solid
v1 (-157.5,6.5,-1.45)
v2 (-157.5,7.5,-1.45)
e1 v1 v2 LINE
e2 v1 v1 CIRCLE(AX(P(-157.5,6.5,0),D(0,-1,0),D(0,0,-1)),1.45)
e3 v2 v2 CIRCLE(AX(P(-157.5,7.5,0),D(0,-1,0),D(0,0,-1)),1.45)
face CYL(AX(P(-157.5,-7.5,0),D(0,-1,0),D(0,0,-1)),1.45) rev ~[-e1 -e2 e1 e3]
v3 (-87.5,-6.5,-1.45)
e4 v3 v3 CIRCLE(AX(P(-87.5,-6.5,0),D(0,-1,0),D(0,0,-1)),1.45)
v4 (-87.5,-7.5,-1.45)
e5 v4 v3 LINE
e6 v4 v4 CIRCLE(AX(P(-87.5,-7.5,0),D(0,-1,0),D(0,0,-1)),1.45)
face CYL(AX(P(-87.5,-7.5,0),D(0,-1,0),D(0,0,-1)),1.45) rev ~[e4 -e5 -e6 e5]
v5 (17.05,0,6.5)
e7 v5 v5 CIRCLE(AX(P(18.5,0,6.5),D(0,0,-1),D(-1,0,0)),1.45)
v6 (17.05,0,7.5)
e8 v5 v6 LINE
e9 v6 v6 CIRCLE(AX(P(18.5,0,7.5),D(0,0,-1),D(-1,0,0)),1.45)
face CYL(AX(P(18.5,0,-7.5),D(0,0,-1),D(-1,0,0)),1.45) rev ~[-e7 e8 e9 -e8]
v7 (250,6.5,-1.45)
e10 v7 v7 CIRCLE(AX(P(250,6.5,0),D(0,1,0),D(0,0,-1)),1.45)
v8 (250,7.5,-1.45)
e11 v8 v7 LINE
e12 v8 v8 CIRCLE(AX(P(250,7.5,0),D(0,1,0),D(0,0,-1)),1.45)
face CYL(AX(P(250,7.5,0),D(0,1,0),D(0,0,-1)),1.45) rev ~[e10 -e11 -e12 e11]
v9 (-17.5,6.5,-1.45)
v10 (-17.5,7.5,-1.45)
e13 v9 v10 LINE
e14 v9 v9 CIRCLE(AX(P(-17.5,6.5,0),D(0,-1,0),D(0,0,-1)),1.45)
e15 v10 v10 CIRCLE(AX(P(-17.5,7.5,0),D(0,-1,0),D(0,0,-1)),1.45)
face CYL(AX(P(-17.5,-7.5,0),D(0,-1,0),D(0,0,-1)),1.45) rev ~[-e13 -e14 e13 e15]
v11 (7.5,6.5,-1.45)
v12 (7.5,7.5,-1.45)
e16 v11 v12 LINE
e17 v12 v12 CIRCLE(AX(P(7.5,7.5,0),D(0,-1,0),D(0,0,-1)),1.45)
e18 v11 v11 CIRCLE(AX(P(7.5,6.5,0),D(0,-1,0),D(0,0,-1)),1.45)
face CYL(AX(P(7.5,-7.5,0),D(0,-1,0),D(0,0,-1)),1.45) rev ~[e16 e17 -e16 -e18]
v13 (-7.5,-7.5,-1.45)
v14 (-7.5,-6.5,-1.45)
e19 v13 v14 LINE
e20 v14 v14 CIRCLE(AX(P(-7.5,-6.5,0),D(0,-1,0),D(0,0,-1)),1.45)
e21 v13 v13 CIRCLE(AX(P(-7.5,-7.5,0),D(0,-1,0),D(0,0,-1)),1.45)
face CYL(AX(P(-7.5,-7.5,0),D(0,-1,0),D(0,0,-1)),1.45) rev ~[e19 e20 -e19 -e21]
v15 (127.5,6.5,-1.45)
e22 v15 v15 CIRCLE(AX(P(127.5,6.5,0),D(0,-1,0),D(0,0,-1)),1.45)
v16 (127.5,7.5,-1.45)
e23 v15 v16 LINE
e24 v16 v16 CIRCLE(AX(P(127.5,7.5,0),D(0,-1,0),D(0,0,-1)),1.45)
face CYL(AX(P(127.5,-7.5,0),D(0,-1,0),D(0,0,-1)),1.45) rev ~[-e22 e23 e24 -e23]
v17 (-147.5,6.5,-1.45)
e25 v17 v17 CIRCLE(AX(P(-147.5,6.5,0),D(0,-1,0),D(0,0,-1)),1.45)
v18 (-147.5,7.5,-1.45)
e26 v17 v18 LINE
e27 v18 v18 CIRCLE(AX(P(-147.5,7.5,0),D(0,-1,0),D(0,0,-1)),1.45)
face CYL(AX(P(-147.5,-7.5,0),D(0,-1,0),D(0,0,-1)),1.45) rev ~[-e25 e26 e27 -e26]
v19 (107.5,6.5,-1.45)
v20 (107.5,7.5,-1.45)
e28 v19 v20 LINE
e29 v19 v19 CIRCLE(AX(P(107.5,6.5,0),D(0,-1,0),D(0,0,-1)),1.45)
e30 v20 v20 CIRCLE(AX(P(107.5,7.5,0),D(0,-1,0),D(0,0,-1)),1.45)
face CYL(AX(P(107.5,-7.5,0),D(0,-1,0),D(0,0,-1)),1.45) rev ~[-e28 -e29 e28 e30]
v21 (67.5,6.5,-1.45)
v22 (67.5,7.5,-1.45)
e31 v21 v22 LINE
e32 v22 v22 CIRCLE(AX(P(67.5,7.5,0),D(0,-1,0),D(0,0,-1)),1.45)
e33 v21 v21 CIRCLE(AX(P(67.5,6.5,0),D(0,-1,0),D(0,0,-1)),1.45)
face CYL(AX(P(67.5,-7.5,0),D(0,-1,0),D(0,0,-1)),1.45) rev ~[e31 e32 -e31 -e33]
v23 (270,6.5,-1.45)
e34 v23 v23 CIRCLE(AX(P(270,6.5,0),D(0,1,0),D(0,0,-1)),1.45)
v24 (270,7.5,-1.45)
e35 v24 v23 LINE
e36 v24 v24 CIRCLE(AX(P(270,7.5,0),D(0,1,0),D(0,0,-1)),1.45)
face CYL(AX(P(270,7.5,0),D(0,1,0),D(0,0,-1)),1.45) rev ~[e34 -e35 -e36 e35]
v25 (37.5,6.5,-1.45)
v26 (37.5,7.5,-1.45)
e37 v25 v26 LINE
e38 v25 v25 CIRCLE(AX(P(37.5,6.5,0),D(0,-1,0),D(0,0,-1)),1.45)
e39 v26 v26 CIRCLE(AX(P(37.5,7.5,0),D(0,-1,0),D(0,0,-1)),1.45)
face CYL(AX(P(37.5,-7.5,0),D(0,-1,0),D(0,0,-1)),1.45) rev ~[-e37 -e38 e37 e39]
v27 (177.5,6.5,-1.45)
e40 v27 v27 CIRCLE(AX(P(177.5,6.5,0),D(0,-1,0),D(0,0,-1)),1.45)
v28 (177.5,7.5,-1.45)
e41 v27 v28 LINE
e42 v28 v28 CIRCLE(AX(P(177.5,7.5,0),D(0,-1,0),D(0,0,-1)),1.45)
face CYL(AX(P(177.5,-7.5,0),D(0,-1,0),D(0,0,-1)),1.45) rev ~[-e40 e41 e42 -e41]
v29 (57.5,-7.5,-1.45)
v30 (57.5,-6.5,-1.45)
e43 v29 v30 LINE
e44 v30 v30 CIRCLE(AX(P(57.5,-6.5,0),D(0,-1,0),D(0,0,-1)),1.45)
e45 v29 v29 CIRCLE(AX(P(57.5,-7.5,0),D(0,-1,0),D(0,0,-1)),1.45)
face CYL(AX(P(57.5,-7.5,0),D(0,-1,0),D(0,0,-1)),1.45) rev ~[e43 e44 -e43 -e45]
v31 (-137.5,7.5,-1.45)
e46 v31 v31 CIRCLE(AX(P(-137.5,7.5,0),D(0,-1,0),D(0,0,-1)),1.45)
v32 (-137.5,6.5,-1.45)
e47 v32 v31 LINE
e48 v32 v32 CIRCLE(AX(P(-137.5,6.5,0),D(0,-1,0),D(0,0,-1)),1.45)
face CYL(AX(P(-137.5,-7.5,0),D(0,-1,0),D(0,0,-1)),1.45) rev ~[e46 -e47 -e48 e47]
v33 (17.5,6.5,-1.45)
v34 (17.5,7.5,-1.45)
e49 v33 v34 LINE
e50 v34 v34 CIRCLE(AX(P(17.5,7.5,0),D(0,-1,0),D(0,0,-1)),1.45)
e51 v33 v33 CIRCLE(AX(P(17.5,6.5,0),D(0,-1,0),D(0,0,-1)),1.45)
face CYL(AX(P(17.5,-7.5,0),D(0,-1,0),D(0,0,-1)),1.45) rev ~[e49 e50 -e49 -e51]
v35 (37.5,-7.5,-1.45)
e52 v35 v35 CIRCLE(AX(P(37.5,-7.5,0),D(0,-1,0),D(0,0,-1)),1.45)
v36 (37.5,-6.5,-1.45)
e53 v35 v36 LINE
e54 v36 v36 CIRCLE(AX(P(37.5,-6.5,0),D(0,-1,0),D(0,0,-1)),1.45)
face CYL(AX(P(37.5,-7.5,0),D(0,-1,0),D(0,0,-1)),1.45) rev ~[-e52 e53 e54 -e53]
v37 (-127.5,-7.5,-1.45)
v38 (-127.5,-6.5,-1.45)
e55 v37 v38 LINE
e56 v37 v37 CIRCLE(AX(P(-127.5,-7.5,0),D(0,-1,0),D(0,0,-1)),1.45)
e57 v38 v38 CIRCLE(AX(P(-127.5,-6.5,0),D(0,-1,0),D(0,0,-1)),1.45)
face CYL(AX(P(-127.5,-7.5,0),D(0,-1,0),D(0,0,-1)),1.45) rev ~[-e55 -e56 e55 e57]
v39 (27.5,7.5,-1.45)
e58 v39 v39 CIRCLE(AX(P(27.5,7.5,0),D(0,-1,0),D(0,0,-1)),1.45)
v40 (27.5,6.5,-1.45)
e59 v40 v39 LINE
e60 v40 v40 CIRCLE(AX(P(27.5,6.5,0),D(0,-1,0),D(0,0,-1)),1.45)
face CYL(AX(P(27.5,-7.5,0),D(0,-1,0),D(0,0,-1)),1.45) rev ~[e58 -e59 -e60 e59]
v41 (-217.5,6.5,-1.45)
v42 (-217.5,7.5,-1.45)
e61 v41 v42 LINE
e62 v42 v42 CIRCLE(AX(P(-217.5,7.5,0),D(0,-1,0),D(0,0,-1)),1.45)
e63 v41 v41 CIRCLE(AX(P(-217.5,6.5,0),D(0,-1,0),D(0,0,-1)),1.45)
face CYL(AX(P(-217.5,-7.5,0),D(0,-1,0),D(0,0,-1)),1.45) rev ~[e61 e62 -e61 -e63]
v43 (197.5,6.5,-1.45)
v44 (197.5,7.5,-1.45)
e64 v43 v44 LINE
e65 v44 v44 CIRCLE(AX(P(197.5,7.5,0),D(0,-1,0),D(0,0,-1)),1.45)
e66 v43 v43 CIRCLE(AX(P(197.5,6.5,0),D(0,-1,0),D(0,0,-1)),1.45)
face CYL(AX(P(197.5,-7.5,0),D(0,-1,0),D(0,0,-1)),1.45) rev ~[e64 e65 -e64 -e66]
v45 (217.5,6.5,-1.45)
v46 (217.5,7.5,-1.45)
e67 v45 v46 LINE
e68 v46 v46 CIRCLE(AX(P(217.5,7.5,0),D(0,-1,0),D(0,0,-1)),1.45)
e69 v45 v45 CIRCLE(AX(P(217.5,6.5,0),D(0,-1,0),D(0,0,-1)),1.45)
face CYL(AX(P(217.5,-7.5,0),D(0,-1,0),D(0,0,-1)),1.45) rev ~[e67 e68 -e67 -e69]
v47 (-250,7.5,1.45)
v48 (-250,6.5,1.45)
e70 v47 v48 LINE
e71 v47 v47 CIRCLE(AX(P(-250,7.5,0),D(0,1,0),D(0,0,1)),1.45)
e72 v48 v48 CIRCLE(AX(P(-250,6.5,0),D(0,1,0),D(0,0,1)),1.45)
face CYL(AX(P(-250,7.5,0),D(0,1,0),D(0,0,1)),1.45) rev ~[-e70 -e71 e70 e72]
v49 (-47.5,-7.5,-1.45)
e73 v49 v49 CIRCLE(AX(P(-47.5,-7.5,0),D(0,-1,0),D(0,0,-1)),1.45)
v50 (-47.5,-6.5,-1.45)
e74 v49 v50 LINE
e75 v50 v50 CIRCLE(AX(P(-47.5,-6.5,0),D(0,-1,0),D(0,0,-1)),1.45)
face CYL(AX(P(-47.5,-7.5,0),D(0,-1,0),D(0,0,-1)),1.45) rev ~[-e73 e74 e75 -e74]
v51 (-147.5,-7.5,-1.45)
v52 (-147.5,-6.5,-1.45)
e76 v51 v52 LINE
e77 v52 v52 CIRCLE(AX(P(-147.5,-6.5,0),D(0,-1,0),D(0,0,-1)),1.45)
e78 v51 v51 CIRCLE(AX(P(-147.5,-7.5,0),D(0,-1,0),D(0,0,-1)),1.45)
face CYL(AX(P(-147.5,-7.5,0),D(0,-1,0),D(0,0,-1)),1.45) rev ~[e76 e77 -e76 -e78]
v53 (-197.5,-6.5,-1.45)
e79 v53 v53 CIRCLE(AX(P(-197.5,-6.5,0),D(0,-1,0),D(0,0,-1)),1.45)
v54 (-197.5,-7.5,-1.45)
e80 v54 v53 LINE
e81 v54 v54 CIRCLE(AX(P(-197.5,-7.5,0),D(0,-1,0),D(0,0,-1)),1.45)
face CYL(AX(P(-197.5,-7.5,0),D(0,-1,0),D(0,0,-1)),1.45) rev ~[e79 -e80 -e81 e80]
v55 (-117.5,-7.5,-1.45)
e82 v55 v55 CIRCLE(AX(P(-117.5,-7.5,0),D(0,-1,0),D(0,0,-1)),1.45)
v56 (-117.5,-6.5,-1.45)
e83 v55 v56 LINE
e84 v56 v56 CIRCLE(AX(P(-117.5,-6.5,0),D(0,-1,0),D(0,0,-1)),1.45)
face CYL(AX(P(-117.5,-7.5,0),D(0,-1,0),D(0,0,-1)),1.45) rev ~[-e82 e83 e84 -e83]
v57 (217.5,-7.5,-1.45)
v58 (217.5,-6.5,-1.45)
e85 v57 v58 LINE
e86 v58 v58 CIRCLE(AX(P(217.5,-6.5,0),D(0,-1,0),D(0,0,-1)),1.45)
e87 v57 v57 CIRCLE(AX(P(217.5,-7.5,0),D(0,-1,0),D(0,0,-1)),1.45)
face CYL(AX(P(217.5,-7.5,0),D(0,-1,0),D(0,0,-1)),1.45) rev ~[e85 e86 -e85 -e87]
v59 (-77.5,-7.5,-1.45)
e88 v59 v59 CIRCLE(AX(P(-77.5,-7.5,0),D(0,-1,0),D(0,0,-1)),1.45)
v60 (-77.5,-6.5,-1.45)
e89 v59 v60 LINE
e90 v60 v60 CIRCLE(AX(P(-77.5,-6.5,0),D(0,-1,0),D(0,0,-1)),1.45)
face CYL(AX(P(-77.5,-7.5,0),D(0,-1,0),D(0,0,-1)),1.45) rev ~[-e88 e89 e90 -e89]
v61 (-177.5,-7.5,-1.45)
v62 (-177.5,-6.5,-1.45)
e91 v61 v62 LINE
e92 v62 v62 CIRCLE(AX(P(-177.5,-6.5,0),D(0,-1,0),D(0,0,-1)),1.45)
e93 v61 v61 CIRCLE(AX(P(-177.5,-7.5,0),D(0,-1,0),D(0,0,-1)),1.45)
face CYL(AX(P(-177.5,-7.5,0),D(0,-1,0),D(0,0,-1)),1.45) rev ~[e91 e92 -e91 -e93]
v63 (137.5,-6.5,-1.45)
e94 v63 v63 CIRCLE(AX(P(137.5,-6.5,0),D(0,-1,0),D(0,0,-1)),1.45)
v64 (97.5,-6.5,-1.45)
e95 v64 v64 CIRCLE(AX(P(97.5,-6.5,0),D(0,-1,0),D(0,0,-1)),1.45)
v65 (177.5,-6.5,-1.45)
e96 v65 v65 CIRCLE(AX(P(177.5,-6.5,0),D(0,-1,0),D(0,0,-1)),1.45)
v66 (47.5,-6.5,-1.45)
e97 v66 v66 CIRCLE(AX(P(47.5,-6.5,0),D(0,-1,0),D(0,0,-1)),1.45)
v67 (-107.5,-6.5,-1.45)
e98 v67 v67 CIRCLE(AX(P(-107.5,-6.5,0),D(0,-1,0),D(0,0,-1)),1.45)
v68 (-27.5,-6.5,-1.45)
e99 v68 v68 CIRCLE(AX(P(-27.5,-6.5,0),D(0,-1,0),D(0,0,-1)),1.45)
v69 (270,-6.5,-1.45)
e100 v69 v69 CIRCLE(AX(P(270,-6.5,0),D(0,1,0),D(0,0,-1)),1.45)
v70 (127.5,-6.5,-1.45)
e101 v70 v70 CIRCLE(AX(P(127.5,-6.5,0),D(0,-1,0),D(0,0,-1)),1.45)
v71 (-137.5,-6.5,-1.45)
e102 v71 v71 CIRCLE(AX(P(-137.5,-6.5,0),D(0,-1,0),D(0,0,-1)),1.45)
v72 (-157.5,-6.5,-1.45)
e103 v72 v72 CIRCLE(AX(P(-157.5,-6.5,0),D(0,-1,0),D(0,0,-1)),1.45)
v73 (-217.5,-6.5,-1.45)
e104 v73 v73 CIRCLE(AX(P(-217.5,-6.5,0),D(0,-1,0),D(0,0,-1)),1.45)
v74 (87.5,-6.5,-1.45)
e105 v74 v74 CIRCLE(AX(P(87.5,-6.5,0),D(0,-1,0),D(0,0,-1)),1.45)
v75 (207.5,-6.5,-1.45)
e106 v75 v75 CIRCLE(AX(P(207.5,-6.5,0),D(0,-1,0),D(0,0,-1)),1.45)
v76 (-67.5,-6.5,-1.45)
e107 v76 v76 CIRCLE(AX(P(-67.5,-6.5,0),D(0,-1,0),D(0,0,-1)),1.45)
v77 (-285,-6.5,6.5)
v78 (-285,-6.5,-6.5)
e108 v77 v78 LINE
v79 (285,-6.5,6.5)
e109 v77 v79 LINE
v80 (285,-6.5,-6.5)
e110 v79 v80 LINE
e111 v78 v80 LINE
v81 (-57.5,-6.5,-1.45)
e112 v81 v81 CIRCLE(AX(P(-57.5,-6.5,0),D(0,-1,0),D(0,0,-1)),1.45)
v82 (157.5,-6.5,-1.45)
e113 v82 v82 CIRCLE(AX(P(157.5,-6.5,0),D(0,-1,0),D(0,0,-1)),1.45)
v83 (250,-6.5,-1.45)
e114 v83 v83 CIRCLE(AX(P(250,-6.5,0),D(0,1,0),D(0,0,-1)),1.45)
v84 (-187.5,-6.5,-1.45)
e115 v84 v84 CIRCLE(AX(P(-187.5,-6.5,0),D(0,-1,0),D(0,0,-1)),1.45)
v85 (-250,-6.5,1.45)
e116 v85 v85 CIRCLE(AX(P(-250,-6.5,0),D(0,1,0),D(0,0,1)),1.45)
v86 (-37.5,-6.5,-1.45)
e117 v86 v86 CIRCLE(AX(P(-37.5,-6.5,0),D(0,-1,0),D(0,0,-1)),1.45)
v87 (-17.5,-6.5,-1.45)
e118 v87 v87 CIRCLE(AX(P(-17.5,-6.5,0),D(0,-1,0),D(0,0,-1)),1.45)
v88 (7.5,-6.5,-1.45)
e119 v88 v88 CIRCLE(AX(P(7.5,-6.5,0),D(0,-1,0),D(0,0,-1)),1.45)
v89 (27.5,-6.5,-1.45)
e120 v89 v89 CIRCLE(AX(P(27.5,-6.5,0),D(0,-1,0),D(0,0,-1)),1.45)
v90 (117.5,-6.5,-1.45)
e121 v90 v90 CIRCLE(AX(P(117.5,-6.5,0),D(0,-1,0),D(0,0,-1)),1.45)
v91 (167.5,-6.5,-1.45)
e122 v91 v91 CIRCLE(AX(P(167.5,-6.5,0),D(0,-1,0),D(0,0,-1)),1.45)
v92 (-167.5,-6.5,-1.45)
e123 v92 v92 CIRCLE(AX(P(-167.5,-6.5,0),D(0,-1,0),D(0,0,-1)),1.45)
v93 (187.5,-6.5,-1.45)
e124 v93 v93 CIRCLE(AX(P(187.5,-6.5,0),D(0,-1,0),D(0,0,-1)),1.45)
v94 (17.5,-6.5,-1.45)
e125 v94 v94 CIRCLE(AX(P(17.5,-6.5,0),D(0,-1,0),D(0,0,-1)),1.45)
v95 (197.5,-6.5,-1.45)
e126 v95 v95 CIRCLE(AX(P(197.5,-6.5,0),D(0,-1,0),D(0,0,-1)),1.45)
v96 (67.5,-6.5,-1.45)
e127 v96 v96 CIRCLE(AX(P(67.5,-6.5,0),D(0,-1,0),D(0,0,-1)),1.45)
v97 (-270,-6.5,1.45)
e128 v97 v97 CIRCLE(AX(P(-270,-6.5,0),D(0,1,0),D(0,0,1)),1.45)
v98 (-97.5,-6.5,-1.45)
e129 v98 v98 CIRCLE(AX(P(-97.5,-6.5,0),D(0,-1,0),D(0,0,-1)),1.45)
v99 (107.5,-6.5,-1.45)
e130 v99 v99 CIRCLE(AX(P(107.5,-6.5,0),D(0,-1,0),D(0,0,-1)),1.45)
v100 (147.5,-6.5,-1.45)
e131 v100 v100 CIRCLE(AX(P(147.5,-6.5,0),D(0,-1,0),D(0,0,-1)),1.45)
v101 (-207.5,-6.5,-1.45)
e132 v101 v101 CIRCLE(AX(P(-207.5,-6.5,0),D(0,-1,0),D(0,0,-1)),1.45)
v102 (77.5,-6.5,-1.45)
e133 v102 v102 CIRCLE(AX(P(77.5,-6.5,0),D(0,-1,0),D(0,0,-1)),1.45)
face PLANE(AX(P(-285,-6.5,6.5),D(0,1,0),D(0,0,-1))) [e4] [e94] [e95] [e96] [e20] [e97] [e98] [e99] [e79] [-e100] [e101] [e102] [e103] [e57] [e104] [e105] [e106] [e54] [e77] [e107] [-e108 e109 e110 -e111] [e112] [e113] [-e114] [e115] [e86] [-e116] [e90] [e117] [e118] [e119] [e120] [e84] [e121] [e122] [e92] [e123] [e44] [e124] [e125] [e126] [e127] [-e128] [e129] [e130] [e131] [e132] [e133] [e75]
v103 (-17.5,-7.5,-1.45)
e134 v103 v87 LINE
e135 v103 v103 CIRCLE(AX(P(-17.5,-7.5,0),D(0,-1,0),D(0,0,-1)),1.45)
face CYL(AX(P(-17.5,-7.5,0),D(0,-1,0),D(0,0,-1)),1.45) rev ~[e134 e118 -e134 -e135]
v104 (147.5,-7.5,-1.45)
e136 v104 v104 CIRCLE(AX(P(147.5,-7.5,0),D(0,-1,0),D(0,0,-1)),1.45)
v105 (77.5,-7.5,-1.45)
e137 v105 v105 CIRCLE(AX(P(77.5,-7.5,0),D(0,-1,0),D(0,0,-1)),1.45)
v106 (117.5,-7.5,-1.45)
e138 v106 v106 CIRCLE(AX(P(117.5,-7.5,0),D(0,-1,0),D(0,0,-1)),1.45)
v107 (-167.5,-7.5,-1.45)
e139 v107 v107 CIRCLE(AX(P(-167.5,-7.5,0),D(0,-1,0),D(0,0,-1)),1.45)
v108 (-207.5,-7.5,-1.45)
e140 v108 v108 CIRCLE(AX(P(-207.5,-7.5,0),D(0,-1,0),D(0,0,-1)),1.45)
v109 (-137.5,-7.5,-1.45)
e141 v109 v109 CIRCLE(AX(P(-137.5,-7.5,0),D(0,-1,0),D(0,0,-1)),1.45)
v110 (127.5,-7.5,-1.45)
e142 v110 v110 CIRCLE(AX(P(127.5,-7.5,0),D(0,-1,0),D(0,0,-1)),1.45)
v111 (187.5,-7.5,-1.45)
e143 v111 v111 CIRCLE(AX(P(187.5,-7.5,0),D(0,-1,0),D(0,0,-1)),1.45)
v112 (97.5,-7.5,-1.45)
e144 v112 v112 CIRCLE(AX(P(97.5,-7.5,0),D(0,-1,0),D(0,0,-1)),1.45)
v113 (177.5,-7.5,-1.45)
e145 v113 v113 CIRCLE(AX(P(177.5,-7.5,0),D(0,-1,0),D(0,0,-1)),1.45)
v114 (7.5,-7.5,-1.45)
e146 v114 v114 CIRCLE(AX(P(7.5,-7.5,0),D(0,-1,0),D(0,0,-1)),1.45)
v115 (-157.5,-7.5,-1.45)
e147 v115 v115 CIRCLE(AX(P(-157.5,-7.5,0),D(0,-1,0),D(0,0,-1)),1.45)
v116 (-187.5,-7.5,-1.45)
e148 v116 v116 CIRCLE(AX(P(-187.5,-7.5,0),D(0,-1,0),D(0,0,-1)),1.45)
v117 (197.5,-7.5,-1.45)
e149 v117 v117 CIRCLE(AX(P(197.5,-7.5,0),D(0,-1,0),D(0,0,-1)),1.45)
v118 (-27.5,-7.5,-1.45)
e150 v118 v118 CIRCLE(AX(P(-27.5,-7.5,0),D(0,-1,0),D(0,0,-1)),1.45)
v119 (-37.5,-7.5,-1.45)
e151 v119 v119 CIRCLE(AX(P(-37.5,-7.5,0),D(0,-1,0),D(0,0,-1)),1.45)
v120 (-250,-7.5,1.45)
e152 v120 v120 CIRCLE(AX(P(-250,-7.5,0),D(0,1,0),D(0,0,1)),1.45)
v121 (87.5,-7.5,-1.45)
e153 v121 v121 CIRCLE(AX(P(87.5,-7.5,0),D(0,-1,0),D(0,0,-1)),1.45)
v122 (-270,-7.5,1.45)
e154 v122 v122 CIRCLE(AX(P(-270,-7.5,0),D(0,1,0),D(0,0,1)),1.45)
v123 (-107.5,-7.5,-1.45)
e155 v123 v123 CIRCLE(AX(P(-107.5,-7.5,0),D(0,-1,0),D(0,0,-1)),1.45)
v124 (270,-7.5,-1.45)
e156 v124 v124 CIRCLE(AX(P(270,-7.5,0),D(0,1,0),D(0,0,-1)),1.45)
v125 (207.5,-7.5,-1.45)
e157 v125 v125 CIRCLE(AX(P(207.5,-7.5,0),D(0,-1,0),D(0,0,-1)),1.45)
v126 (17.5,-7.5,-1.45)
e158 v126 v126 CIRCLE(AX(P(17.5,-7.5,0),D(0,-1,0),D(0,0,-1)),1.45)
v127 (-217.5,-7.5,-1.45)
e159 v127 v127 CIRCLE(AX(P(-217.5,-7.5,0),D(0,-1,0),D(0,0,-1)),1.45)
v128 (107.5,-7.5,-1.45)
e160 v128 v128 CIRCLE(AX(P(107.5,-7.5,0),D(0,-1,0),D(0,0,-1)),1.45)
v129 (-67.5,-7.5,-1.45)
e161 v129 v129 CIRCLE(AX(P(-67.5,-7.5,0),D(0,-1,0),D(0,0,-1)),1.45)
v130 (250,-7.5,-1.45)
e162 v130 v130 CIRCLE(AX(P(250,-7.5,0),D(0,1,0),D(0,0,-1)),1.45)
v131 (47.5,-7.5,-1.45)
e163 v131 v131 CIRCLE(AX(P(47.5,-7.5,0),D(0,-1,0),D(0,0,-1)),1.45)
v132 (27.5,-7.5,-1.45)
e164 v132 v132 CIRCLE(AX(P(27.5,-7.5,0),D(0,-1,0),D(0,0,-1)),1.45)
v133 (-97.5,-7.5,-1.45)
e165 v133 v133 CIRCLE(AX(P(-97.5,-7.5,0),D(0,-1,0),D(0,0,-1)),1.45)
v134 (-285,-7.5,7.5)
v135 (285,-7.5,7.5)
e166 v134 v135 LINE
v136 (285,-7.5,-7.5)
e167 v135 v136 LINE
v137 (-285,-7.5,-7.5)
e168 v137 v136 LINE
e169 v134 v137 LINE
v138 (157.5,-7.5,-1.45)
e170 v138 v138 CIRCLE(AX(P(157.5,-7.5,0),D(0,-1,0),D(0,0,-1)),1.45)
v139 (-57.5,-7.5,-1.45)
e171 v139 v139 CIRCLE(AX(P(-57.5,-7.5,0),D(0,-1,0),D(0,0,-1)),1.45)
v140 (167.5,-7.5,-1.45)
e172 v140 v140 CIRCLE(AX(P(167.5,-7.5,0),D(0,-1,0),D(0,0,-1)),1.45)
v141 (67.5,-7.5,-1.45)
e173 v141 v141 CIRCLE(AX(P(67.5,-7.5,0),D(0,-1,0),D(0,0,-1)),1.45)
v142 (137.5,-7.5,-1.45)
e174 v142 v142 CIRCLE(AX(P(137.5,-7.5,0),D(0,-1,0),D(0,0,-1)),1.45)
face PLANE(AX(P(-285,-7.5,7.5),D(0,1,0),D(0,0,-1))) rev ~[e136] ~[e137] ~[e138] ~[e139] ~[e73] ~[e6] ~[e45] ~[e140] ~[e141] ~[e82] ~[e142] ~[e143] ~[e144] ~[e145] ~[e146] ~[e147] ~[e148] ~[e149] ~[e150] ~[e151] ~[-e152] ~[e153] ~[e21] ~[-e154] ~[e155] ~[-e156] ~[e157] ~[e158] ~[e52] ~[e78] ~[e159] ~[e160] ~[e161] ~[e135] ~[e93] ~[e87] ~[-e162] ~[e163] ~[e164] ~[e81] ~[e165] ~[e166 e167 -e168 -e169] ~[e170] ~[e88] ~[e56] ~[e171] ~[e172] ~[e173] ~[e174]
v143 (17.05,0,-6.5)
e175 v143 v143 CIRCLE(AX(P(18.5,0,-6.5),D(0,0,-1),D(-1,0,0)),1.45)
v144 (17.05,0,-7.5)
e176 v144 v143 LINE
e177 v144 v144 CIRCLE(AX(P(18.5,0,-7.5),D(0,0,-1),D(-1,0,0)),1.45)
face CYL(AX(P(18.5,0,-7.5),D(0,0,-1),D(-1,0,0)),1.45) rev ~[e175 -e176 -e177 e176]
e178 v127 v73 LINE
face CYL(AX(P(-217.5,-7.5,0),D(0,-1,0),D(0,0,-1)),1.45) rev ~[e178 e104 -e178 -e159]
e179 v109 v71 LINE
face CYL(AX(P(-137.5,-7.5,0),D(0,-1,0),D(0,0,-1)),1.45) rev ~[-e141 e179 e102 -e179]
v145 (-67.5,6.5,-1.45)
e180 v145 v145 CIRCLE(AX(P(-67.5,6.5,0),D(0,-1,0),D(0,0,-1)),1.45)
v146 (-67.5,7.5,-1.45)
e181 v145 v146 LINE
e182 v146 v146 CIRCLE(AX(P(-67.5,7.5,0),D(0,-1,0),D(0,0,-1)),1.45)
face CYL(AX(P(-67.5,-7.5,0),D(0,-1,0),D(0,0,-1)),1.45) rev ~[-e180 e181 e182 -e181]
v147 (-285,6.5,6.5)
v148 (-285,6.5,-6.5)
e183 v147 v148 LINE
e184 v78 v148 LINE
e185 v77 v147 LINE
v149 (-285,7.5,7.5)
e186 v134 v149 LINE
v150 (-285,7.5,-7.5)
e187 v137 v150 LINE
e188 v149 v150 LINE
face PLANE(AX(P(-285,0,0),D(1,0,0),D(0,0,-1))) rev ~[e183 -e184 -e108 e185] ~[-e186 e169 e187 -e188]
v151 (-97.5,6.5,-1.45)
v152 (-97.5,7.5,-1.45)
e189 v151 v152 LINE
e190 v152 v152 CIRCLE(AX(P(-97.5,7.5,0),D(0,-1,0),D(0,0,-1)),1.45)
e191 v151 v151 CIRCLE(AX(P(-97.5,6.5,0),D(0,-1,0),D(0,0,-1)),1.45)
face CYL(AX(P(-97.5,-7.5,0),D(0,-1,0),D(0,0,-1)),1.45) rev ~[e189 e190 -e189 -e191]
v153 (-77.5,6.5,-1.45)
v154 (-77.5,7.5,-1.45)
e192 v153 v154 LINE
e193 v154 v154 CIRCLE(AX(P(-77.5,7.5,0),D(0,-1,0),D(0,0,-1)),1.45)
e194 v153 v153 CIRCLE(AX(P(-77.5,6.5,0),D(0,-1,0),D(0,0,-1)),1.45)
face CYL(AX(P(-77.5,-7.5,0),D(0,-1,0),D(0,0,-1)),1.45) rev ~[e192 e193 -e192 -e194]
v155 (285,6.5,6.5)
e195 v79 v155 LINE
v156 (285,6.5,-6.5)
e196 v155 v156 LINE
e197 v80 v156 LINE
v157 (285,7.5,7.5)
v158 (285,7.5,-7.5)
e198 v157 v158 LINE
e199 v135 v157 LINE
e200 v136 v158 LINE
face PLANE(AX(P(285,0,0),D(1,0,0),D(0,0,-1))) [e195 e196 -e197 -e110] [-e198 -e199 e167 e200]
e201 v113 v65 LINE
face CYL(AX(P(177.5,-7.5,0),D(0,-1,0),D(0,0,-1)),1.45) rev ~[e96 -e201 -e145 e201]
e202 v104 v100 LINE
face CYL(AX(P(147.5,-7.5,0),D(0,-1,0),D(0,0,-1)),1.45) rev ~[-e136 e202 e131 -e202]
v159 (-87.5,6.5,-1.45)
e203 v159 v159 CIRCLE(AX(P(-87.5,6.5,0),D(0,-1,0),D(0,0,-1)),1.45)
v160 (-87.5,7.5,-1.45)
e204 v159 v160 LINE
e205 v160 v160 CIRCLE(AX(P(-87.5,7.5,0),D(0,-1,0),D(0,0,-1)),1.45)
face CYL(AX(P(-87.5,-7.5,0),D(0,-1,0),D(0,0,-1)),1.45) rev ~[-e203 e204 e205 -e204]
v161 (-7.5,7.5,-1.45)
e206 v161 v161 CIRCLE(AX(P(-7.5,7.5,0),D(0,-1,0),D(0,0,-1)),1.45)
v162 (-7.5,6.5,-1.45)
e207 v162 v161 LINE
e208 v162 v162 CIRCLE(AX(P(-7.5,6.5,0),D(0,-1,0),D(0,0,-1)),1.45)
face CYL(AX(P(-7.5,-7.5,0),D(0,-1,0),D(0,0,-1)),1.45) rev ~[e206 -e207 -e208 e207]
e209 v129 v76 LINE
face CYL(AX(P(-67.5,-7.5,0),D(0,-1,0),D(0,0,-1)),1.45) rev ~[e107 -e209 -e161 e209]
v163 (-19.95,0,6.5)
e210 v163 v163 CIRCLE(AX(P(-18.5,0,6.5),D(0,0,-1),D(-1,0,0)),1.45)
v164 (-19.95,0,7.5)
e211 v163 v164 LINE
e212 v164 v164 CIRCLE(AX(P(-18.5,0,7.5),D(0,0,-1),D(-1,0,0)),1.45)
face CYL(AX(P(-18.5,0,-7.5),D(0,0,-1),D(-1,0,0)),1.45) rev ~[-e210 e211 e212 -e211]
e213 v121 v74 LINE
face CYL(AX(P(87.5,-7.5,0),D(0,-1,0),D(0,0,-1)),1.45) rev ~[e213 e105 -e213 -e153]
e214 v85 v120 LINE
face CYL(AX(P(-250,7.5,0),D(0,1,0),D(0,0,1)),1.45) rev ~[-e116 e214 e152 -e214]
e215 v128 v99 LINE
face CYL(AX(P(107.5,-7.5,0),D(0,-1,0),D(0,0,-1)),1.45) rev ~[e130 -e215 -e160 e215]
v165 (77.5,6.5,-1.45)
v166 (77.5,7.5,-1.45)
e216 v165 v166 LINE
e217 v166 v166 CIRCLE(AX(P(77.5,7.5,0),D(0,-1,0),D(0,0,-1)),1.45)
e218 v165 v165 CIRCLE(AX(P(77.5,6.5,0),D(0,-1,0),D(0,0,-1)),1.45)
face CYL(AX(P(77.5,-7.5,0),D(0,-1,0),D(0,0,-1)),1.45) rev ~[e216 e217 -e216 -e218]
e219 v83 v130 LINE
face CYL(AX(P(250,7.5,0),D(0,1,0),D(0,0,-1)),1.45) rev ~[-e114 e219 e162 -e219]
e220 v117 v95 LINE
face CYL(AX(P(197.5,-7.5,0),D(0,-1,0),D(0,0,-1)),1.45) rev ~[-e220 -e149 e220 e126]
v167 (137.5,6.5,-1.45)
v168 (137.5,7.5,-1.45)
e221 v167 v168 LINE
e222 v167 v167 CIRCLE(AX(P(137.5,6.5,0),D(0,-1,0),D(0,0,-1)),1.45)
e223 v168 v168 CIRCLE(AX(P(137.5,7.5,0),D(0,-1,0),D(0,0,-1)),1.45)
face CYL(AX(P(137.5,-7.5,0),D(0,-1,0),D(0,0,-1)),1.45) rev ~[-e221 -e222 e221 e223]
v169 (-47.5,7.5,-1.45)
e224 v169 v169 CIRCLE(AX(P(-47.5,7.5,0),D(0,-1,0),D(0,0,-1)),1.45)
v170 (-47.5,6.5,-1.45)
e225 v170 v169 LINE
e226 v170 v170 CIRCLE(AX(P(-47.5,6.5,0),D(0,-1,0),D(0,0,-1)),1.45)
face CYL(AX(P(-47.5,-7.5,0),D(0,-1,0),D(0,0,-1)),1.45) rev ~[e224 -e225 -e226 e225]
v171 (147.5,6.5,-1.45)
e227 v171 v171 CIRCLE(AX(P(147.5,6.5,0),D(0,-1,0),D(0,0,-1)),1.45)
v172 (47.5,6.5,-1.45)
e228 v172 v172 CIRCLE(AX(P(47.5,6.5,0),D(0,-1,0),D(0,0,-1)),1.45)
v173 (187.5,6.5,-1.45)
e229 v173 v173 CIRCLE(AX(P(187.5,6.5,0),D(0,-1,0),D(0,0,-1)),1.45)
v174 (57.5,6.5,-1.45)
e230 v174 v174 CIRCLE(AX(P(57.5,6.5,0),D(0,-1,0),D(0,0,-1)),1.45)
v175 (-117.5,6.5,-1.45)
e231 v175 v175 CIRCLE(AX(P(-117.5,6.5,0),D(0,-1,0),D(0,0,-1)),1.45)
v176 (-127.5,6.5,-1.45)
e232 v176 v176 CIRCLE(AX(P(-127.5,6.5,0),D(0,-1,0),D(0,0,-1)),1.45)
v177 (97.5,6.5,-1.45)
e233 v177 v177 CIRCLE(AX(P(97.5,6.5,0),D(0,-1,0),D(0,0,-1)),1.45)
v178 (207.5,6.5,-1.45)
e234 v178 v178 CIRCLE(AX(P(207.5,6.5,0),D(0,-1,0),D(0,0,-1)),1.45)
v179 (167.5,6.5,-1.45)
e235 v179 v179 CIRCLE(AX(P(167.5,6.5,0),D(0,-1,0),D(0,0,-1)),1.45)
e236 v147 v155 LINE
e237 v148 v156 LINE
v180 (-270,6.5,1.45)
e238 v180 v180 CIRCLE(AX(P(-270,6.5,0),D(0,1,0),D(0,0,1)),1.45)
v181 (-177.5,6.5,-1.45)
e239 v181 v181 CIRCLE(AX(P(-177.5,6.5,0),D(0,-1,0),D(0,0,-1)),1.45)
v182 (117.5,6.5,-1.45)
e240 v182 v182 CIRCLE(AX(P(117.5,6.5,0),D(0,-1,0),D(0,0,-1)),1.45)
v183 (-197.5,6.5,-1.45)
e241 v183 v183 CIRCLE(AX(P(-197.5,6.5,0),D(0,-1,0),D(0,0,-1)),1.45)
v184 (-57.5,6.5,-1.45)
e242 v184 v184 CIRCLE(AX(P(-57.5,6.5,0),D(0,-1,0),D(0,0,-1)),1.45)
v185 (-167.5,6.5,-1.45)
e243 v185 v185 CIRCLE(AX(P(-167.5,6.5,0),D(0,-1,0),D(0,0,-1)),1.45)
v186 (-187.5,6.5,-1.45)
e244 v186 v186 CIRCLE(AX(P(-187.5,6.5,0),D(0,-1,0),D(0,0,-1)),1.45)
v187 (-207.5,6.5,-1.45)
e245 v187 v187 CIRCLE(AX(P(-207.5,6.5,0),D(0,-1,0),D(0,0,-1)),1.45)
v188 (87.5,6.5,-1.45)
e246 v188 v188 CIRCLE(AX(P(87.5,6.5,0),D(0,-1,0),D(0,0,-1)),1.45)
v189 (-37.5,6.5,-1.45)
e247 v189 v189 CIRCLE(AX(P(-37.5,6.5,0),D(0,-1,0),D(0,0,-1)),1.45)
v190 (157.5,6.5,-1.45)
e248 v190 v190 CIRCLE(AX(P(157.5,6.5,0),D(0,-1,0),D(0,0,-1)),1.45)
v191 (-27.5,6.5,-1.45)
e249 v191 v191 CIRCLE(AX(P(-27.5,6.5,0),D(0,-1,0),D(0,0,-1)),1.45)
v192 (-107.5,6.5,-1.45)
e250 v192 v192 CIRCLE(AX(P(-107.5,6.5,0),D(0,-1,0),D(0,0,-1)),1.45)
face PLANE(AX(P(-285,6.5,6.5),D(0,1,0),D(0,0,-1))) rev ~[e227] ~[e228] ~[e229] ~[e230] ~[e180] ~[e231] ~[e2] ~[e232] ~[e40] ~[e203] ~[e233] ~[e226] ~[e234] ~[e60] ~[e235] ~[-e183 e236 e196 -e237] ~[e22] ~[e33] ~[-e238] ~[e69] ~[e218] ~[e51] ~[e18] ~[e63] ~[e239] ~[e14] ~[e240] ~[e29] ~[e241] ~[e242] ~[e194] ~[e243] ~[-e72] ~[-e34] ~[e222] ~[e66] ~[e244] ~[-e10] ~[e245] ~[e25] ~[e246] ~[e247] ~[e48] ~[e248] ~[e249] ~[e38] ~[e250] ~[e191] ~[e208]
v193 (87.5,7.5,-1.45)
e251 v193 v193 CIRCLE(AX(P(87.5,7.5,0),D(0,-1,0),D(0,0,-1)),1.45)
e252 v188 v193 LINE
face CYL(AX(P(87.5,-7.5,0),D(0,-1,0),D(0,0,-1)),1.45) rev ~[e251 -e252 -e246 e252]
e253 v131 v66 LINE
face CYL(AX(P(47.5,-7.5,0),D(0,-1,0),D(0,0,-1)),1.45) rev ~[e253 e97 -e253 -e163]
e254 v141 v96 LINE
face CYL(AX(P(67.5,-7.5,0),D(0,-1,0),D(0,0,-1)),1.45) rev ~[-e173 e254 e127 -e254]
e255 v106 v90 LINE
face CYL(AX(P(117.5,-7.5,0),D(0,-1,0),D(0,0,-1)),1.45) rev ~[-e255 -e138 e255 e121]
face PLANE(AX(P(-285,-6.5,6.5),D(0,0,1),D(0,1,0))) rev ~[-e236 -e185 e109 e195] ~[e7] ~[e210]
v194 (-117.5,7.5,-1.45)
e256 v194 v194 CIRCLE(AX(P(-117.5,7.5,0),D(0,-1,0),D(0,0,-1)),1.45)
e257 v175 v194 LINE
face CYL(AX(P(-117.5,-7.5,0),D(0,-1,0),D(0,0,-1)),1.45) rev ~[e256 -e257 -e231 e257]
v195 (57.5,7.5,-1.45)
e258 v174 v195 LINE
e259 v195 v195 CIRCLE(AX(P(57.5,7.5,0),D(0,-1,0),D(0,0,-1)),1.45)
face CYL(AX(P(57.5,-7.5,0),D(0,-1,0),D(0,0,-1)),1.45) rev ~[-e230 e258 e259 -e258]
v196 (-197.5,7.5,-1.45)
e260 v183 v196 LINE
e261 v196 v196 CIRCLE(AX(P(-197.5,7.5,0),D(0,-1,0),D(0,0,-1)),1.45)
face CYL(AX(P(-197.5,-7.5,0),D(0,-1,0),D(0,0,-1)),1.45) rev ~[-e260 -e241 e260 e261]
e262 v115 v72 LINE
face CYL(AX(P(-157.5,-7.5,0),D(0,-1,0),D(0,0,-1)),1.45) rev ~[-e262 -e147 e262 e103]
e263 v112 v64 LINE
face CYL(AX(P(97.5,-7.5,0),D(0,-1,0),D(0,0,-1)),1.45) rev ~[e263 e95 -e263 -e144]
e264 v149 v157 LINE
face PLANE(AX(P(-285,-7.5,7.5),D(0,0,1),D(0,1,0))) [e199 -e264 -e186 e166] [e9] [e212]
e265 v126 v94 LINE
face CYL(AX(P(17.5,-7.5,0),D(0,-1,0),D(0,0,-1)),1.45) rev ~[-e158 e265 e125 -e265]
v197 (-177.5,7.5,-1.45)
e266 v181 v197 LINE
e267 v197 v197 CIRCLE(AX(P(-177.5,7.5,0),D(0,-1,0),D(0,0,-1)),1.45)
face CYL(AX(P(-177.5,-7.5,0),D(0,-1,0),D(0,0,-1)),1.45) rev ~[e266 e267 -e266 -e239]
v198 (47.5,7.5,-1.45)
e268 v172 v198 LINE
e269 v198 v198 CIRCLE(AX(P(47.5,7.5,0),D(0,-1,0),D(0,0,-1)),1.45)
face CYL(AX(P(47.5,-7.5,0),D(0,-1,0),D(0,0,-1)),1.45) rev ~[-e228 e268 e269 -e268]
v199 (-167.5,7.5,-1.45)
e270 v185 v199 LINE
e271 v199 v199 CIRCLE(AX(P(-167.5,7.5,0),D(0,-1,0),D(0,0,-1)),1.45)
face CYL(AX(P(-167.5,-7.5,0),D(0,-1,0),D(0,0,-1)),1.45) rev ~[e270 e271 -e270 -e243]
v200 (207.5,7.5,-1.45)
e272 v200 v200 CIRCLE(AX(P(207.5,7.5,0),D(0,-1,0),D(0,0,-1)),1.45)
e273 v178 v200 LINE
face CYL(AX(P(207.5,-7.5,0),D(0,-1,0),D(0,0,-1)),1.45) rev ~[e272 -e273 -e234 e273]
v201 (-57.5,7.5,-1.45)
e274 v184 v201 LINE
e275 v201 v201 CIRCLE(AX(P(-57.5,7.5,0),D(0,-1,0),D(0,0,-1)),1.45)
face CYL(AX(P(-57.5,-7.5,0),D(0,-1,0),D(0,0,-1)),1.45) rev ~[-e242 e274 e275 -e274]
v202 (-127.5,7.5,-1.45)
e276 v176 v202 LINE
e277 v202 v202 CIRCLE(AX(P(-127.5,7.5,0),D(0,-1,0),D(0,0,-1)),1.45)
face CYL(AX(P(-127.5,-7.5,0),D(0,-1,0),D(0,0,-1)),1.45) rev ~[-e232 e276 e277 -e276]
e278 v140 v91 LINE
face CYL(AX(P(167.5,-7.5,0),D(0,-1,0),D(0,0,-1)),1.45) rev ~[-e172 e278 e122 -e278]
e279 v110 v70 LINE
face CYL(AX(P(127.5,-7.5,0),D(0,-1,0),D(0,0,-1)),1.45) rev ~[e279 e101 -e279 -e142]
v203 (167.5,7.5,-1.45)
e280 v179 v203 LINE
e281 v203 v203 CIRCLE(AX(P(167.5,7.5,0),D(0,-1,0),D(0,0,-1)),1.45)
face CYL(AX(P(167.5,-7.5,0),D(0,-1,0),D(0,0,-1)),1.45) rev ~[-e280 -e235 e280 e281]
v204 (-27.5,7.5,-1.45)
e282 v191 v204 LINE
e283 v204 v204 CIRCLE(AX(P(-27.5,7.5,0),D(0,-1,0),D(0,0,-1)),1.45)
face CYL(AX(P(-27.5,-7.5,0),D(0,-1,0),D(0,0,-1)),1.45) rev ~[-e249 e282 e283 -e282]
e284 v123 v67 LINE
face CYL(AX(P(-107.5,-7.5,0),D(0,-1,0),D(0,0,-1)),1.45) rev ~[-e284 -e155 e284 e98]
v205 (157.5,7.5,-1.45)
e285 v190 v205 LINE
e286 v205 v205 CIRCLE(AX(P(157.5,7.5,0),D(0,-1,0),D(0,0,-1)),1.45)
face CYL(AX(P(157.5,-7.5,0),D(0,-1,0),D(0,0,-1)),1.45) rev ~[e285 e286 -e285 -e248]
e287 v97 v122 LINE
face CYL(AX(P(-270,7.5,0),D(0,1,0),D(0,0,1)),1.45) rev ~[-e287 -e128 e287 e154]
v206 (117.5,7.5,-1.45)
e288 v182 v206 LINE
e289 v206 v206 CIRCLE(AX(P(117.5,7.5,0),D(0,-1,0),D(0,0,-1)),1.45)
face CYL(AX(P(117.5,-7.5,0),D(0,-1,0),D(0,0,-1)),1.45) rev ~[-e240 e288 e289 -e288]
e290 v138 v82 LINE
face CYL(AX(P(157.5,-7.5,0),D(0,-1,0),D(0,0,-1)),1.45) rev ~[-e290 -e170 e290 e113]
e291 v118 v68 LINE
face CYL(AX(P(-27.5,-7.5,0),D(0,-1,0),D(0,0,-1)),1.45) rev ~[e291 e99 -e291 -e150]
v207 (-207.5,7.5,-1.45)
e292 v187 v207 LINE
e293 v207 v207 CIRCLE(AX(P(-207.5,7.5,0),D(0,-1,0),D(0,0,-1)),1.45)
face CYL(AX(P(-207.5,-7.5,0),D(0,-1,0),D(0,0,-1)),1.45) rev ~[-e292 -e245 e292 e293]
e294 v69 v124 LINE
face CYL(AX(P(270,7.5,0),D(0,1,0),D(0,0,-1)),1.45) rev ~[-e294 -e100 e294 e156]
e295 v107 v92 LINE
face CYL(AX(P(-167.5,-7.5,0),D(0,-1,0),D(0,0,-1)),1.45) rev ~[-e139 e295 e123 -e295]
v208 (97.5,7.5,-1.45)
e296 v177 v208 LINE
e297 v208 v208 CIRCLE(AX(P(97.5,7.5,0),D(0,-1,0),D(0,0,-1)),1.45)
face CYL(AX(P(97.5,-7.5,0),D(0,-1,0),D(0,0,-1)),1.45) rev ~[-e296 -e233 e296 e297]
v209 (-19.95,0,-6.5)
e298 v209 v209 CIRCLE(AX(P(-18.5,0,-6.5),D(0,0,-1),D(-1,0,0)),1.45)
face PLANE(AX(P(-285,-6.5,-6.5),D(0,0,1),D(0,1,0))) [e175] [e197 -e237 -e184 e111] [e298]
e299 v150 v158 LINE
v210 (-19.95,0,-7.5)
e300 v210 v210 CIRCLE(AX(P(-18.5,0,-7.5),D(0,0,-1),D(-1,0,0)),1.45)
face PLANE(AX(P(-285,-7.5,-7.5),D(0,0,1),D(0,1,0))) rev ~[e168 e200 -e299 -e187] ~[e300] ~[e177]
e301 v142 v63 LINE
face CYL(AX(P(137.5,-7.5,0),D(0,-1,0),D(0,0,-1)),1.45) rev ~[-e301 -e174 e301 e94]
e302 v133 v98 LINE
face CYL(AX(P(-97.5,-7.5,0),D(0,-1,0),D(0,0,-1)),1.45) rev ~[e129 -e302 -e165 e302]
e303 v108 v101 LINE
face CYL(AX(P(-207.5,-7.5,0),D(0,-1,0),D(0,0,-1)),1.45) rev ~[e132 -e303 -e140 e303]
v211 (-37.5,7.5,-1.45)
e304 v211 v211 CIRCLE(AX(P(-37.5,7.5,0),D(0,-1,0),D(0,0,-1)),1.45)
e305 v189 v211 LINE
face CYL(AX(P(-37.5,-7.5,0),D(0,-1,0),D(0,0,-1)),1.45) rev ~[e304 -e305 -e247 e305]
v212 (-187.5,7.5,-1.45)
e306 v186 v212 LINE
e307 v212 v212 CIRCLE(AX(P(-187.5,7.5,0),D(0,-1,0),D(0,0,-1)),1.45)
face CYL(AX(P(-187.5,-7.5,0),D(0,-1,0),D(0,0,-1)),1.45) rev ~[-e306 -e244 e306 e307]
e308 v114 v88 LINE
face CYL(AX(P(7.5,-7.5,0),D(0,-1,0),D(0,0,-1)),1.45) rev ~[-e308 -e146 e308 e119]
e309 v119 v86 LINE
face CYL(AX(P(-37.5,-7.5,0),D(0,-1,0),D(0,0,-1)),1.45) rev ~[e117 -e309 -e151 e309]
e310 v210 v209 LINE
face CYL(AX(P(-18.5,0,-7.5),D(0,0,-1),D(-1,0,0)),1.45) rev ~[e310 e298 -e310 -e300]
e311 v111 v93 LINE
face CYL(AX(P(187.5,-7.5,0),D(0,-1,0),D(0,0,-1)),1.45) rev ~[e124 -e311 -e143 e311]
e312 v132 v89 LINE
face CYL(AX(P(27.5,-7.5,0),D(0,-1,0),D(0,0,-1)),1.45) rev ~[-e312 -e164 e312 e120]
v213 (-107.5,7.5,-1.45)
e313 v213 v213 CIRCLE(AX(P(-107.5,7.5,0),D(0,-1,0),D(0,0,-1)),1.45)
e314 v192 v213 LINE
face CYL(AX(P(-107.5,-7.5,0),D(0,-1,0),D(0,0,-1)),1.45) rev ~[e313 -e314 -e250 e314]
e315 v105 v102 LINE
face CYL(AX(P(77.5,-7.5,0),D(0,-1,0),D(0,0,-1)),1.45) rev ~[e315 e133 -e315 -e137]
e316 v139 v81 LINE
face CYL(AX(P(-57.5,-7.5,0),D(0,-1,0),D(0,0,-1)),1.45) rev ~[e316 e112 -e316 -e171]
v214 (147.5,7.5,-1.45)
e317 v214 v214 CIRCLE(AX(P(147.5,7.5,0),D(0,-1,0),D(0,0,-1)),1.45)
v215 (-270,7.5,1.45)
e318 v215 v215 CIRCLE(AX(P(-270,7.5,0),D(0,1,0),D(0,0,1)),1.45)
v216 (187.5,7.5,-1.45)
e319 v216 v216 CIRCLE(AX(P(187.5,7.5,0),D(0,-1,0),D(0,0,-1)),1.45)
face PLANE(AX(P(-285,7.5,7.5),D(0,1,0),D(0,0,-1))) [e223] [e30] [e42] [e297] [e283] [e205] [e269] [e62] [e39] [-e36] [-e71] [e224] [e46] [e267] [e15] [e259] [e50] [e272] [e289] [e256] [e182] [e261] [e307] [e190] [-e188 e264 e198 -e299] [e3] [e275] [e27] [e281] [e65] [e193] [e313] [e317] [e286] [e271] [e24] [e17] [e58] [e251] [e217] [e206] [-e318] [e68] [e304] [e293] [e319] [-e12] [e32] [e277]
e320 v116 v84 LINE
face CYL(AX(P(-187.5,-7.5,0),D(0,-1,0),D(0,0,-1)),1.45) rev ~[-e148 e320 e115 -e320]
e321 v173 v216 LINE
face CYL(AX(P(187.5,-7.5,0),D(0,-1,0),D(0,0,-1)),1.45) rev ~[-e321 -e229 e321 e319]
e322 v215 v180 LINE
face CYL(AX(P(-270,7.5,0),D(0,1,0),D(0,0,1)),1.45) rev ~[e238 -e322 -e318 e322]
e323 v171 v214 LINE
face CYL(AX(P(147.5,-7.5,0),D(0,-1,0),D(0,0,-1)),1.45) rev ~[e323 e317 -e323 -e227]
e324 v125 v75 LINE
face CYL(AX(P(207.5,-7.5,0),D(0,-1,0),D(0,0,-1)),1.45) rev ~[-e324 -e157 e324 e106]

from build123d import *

# Parameters (mm, degrees)
SKETCH_11_W         = 15
SKETCH_11_H         = 15
SKETCH_11_W_2       = 13
SKETCH_11_H_2       = 13
F_15X15X1_1_DEPTH   = 570
SKETCH_12_R         = 1.45
CUT_EXTRUDE_1_DEPTH = 286.49299466
SKETCH_13_R         = 1.45
CUT_EXTRUDE_2_DEPTH = 286.49299466
SKETCH_14_R         = 1.45
CUT_EXTRUDE_3_DEPTH = 286.49299466


with BuildPart() as part:
    # 草图11 → 铝管 15X15X1(1) (new body)
    with BuildSketch(Plane(origin=(-285, 0, 0), x_dir=(0, 0, -1), z_dir=(1, 0, 0))):
        Rectangle(SKETCH_11_W, SKETCH_11_H)
        Rectangle(SKETCH_11_W_2, SKETCH_11_H_2, mode=Mode.SUBTRACT)
    extrude(amount=F_15X15X1_1_DEPTH)

    # 草图12 → 切除-拉伸1 (cut, through all)
    with BuildSketch(Plane(origin=(0, 7.5, 0), x_dir=(1, 0, 0), z_dir=(0, 1, 0))):
        with Locations(Location((-270, 0, 0), (0, 0, 270))):
            Circle(SKETCH_12_R)
        with Locations(Location((-250, 0, 0), (0, 0, 270))):
            Circle(SKETCH_12_R)
        with Locations(Location((250, 0, 0), (0, 0, 90))):
            Circle(SKETCH_12_R)
        with Locations(Location((270, 0, 0), (0, 0, 90))):
            Circle(SKETCH_12_R)
    extrude(amount=-CUT_EXTRUDE_1_DEPTH, mode=Mode.SUBTRACT)

    # 草图13 → 切除-拉伸2 (cut, through all)
    with BuildSketch(Plane(origin=(0, 0, -7.5), x_dir=(-1, 0, 0), z_dir=(0, 0, -1))):
        with Locations((-18.5, 0)):
            Circle(SKETCH_13_R)
        with Locations((18.5, 0)):
            Circle(SKETCH_13_R)
    extrude(amount=-CUT_EXTRUDE_2_DEPTH, mode=Mode.SUBTRACT)

    # 草图14 → 切除-拉伸3 (cut, through all)
    with BuildSketch(Plane.XZ.offset(7.5)):
        with Locations(Location((-97.5, 0, 0), (0, 0, 270))):
            Circle(SKETCH_14_R)
        with Locations(Location((-87.5, 0, 0), (0, 0, 270))):
            Circle(SKETCH_14_R)
        with Locations(Location((-117.5, 0, 0), (0, 0, 270))):
            Circle(SKETCH_14_R)
        with Locations(Location((-107.5, 0, 0), (0, 0, 270))):
            Circle(SKETCH_14_R)
        with Locations(Location((-137.5, 0, 0), (0, 0, 270))):
            Circle(SKETCH_14_R)
        with Locations(Location((-127.5, 0, 0), (0, 0, 270))):
            Circle(SKETCH_14_R)
        with Locations(Location((-157.5, 0, 0), (0, 0, 270))):
            Circle(SKETCH_14_R)
        with Locations(Location((-147.5, 0, 0), (0, 0, 270))):
            Circle(SKETCH_14_R)
        with Locations(Location((-177.5, 0, 0), (0, 0, 270))):
            Circle(SKETCH_14_R)
        with Locations(Location((-167.5, 0, 0), (0, 0, 270))):
            Circle(SKETCH_14_R)
        with Locations(Location((-197.5, 0, 0), (0, 0, 270))):
            Circle(SKETCH_14_R)
        with Locations(Location((-187.5, 0, 0), (0, 0, 270))):
            Circle(SKETCH_14_R)
        with Locations(Location((-217.5, 0, 0), (0, 0, 270))):
            Circle(SKETCH_14_R)
        with Locations(Location((-207.5, 0, 0), (0, 0, 270))):
            Circle(SKETCH_14_R)
        with Locations(Location((-77.5, 0, 0), (0, 0, 270))):
            Circle(SKETCH_14_R)
        with Locations(Location((-67.5, 0, 0), (0, 0, 270))):
            Circle(SKETCH_14_R)
        with Locations(Location((-57.5, 0, 0), (0, 0, 270))):
            Circle(SKETCH_14_R)
        with Locations(Location((-47.5, 0, 0), (0, 0, 270))):
            Circle(SKETCH_14_R)
        with Locations(Location((-37.5, 0, 0), (0, 0, 270))):
            Circle(SKETCH_14_R)
        with Locations(Location((-27.5, 0, 0), (0, 0, 270))):
            Circle(SKETCH_14_R)
        with Locations(Location((-17.5, 0, 0), (0, 0, 270))):
            Circle(SKETCH_14_R)
        with Locations(Location((-7.5, 0, 0), (0, 0, 270))):
            Circle(SKETCH_14_R)
        with Locations(Location((7.5, 0, 0), (0, 0, 270))):
            Circle(SKETCH_14_R)
        with Locations(Location((17.5, 0, 0), (0, 0, 270))):
            Circle(SKETCH_14_R)
        with Locations(Location((27.5, 0, 0), (0, 0, 270))):
            Circle(SKETCH_14_R)
        with Locations(Location((37.5, 0, 0), (0, 0, 270))):
            Circle(SKETCH_14_R)
        with Locations(Location((47.5, 0, 0), (0, 0, 270))):
            Circle(SKETCH_14_R)
        with Locations(Location((57.5, 0, 0), (0, 0, 270))):
            Circle(SKETCH_14_R)
        with Locations(Location((67.5, 0, 0), (0, 0, 270))):
            Circle(SKETCH_14_R)
        with Locations(Location((77.5, 0, 0), (0, 0, 270))):
            Circle(SKETCH_14_R)
        with Locations(Location((207.5, 0, 0), (0, 0, 270))):
            Circle(SKETCH_14_R)
        with Locations(Location((217.5, 0, 0), (0, 0, 270))):
            Circle(SKETCH_14_R)
        with Locations(Location((187.5, 0, 0), (0, 0, 270))):
            Circle(SKETCH_14_R)
        with Locations(Location((197.5, 0, 0), (0, 0, 270))):
            Circle(SKETCH_14_R)
        with Locations(Location((167.5, 0, 0), (0, 0, 270))):
            Circle(SKETCH_14_R)
        with Locations(Location((177.5, 0, 0), (0, 0, 270))):
            Circle(SKETCH_14_R)
        with Locations(Location((147.5, 0, 0), (0, 0, 270))):
            Circle(SKETCH_14_R)
        with Locations(Location((157.5, 0, 0), (0, 0, 270))):
            Circle(SKETCH_14_R)
        with Locations(Location((127.5, 0, 0), (0, 0, 270))):
            Circle(SKETCH_14_R)
        with Locations(Location((137.5, 0, 0), (0, 0, 270))):
            Circle(SKETCH_14_R)
        with Locations(Location((107.5, 0, 0), (0, 0, 270))):
            Circle(SKETCH_14_R)
        with Locations(Location((117.5, 0, 0), (0, 0, 270))):
            Circle(SKETCH_14_R)
        with Locations(Location((87.5, 0, 0), (0, 0, 270))):
            Circle(SKETCH_14_R)
        with Locations(Location((97.5, 0, 0), (0, 0, 270))):
            Circle(SKETCH_14_R)
    extrude(amount=-CUT_EXTRUDE_3_DEPTH, mode=Mode.SUBTRACT)


solid = part.part
